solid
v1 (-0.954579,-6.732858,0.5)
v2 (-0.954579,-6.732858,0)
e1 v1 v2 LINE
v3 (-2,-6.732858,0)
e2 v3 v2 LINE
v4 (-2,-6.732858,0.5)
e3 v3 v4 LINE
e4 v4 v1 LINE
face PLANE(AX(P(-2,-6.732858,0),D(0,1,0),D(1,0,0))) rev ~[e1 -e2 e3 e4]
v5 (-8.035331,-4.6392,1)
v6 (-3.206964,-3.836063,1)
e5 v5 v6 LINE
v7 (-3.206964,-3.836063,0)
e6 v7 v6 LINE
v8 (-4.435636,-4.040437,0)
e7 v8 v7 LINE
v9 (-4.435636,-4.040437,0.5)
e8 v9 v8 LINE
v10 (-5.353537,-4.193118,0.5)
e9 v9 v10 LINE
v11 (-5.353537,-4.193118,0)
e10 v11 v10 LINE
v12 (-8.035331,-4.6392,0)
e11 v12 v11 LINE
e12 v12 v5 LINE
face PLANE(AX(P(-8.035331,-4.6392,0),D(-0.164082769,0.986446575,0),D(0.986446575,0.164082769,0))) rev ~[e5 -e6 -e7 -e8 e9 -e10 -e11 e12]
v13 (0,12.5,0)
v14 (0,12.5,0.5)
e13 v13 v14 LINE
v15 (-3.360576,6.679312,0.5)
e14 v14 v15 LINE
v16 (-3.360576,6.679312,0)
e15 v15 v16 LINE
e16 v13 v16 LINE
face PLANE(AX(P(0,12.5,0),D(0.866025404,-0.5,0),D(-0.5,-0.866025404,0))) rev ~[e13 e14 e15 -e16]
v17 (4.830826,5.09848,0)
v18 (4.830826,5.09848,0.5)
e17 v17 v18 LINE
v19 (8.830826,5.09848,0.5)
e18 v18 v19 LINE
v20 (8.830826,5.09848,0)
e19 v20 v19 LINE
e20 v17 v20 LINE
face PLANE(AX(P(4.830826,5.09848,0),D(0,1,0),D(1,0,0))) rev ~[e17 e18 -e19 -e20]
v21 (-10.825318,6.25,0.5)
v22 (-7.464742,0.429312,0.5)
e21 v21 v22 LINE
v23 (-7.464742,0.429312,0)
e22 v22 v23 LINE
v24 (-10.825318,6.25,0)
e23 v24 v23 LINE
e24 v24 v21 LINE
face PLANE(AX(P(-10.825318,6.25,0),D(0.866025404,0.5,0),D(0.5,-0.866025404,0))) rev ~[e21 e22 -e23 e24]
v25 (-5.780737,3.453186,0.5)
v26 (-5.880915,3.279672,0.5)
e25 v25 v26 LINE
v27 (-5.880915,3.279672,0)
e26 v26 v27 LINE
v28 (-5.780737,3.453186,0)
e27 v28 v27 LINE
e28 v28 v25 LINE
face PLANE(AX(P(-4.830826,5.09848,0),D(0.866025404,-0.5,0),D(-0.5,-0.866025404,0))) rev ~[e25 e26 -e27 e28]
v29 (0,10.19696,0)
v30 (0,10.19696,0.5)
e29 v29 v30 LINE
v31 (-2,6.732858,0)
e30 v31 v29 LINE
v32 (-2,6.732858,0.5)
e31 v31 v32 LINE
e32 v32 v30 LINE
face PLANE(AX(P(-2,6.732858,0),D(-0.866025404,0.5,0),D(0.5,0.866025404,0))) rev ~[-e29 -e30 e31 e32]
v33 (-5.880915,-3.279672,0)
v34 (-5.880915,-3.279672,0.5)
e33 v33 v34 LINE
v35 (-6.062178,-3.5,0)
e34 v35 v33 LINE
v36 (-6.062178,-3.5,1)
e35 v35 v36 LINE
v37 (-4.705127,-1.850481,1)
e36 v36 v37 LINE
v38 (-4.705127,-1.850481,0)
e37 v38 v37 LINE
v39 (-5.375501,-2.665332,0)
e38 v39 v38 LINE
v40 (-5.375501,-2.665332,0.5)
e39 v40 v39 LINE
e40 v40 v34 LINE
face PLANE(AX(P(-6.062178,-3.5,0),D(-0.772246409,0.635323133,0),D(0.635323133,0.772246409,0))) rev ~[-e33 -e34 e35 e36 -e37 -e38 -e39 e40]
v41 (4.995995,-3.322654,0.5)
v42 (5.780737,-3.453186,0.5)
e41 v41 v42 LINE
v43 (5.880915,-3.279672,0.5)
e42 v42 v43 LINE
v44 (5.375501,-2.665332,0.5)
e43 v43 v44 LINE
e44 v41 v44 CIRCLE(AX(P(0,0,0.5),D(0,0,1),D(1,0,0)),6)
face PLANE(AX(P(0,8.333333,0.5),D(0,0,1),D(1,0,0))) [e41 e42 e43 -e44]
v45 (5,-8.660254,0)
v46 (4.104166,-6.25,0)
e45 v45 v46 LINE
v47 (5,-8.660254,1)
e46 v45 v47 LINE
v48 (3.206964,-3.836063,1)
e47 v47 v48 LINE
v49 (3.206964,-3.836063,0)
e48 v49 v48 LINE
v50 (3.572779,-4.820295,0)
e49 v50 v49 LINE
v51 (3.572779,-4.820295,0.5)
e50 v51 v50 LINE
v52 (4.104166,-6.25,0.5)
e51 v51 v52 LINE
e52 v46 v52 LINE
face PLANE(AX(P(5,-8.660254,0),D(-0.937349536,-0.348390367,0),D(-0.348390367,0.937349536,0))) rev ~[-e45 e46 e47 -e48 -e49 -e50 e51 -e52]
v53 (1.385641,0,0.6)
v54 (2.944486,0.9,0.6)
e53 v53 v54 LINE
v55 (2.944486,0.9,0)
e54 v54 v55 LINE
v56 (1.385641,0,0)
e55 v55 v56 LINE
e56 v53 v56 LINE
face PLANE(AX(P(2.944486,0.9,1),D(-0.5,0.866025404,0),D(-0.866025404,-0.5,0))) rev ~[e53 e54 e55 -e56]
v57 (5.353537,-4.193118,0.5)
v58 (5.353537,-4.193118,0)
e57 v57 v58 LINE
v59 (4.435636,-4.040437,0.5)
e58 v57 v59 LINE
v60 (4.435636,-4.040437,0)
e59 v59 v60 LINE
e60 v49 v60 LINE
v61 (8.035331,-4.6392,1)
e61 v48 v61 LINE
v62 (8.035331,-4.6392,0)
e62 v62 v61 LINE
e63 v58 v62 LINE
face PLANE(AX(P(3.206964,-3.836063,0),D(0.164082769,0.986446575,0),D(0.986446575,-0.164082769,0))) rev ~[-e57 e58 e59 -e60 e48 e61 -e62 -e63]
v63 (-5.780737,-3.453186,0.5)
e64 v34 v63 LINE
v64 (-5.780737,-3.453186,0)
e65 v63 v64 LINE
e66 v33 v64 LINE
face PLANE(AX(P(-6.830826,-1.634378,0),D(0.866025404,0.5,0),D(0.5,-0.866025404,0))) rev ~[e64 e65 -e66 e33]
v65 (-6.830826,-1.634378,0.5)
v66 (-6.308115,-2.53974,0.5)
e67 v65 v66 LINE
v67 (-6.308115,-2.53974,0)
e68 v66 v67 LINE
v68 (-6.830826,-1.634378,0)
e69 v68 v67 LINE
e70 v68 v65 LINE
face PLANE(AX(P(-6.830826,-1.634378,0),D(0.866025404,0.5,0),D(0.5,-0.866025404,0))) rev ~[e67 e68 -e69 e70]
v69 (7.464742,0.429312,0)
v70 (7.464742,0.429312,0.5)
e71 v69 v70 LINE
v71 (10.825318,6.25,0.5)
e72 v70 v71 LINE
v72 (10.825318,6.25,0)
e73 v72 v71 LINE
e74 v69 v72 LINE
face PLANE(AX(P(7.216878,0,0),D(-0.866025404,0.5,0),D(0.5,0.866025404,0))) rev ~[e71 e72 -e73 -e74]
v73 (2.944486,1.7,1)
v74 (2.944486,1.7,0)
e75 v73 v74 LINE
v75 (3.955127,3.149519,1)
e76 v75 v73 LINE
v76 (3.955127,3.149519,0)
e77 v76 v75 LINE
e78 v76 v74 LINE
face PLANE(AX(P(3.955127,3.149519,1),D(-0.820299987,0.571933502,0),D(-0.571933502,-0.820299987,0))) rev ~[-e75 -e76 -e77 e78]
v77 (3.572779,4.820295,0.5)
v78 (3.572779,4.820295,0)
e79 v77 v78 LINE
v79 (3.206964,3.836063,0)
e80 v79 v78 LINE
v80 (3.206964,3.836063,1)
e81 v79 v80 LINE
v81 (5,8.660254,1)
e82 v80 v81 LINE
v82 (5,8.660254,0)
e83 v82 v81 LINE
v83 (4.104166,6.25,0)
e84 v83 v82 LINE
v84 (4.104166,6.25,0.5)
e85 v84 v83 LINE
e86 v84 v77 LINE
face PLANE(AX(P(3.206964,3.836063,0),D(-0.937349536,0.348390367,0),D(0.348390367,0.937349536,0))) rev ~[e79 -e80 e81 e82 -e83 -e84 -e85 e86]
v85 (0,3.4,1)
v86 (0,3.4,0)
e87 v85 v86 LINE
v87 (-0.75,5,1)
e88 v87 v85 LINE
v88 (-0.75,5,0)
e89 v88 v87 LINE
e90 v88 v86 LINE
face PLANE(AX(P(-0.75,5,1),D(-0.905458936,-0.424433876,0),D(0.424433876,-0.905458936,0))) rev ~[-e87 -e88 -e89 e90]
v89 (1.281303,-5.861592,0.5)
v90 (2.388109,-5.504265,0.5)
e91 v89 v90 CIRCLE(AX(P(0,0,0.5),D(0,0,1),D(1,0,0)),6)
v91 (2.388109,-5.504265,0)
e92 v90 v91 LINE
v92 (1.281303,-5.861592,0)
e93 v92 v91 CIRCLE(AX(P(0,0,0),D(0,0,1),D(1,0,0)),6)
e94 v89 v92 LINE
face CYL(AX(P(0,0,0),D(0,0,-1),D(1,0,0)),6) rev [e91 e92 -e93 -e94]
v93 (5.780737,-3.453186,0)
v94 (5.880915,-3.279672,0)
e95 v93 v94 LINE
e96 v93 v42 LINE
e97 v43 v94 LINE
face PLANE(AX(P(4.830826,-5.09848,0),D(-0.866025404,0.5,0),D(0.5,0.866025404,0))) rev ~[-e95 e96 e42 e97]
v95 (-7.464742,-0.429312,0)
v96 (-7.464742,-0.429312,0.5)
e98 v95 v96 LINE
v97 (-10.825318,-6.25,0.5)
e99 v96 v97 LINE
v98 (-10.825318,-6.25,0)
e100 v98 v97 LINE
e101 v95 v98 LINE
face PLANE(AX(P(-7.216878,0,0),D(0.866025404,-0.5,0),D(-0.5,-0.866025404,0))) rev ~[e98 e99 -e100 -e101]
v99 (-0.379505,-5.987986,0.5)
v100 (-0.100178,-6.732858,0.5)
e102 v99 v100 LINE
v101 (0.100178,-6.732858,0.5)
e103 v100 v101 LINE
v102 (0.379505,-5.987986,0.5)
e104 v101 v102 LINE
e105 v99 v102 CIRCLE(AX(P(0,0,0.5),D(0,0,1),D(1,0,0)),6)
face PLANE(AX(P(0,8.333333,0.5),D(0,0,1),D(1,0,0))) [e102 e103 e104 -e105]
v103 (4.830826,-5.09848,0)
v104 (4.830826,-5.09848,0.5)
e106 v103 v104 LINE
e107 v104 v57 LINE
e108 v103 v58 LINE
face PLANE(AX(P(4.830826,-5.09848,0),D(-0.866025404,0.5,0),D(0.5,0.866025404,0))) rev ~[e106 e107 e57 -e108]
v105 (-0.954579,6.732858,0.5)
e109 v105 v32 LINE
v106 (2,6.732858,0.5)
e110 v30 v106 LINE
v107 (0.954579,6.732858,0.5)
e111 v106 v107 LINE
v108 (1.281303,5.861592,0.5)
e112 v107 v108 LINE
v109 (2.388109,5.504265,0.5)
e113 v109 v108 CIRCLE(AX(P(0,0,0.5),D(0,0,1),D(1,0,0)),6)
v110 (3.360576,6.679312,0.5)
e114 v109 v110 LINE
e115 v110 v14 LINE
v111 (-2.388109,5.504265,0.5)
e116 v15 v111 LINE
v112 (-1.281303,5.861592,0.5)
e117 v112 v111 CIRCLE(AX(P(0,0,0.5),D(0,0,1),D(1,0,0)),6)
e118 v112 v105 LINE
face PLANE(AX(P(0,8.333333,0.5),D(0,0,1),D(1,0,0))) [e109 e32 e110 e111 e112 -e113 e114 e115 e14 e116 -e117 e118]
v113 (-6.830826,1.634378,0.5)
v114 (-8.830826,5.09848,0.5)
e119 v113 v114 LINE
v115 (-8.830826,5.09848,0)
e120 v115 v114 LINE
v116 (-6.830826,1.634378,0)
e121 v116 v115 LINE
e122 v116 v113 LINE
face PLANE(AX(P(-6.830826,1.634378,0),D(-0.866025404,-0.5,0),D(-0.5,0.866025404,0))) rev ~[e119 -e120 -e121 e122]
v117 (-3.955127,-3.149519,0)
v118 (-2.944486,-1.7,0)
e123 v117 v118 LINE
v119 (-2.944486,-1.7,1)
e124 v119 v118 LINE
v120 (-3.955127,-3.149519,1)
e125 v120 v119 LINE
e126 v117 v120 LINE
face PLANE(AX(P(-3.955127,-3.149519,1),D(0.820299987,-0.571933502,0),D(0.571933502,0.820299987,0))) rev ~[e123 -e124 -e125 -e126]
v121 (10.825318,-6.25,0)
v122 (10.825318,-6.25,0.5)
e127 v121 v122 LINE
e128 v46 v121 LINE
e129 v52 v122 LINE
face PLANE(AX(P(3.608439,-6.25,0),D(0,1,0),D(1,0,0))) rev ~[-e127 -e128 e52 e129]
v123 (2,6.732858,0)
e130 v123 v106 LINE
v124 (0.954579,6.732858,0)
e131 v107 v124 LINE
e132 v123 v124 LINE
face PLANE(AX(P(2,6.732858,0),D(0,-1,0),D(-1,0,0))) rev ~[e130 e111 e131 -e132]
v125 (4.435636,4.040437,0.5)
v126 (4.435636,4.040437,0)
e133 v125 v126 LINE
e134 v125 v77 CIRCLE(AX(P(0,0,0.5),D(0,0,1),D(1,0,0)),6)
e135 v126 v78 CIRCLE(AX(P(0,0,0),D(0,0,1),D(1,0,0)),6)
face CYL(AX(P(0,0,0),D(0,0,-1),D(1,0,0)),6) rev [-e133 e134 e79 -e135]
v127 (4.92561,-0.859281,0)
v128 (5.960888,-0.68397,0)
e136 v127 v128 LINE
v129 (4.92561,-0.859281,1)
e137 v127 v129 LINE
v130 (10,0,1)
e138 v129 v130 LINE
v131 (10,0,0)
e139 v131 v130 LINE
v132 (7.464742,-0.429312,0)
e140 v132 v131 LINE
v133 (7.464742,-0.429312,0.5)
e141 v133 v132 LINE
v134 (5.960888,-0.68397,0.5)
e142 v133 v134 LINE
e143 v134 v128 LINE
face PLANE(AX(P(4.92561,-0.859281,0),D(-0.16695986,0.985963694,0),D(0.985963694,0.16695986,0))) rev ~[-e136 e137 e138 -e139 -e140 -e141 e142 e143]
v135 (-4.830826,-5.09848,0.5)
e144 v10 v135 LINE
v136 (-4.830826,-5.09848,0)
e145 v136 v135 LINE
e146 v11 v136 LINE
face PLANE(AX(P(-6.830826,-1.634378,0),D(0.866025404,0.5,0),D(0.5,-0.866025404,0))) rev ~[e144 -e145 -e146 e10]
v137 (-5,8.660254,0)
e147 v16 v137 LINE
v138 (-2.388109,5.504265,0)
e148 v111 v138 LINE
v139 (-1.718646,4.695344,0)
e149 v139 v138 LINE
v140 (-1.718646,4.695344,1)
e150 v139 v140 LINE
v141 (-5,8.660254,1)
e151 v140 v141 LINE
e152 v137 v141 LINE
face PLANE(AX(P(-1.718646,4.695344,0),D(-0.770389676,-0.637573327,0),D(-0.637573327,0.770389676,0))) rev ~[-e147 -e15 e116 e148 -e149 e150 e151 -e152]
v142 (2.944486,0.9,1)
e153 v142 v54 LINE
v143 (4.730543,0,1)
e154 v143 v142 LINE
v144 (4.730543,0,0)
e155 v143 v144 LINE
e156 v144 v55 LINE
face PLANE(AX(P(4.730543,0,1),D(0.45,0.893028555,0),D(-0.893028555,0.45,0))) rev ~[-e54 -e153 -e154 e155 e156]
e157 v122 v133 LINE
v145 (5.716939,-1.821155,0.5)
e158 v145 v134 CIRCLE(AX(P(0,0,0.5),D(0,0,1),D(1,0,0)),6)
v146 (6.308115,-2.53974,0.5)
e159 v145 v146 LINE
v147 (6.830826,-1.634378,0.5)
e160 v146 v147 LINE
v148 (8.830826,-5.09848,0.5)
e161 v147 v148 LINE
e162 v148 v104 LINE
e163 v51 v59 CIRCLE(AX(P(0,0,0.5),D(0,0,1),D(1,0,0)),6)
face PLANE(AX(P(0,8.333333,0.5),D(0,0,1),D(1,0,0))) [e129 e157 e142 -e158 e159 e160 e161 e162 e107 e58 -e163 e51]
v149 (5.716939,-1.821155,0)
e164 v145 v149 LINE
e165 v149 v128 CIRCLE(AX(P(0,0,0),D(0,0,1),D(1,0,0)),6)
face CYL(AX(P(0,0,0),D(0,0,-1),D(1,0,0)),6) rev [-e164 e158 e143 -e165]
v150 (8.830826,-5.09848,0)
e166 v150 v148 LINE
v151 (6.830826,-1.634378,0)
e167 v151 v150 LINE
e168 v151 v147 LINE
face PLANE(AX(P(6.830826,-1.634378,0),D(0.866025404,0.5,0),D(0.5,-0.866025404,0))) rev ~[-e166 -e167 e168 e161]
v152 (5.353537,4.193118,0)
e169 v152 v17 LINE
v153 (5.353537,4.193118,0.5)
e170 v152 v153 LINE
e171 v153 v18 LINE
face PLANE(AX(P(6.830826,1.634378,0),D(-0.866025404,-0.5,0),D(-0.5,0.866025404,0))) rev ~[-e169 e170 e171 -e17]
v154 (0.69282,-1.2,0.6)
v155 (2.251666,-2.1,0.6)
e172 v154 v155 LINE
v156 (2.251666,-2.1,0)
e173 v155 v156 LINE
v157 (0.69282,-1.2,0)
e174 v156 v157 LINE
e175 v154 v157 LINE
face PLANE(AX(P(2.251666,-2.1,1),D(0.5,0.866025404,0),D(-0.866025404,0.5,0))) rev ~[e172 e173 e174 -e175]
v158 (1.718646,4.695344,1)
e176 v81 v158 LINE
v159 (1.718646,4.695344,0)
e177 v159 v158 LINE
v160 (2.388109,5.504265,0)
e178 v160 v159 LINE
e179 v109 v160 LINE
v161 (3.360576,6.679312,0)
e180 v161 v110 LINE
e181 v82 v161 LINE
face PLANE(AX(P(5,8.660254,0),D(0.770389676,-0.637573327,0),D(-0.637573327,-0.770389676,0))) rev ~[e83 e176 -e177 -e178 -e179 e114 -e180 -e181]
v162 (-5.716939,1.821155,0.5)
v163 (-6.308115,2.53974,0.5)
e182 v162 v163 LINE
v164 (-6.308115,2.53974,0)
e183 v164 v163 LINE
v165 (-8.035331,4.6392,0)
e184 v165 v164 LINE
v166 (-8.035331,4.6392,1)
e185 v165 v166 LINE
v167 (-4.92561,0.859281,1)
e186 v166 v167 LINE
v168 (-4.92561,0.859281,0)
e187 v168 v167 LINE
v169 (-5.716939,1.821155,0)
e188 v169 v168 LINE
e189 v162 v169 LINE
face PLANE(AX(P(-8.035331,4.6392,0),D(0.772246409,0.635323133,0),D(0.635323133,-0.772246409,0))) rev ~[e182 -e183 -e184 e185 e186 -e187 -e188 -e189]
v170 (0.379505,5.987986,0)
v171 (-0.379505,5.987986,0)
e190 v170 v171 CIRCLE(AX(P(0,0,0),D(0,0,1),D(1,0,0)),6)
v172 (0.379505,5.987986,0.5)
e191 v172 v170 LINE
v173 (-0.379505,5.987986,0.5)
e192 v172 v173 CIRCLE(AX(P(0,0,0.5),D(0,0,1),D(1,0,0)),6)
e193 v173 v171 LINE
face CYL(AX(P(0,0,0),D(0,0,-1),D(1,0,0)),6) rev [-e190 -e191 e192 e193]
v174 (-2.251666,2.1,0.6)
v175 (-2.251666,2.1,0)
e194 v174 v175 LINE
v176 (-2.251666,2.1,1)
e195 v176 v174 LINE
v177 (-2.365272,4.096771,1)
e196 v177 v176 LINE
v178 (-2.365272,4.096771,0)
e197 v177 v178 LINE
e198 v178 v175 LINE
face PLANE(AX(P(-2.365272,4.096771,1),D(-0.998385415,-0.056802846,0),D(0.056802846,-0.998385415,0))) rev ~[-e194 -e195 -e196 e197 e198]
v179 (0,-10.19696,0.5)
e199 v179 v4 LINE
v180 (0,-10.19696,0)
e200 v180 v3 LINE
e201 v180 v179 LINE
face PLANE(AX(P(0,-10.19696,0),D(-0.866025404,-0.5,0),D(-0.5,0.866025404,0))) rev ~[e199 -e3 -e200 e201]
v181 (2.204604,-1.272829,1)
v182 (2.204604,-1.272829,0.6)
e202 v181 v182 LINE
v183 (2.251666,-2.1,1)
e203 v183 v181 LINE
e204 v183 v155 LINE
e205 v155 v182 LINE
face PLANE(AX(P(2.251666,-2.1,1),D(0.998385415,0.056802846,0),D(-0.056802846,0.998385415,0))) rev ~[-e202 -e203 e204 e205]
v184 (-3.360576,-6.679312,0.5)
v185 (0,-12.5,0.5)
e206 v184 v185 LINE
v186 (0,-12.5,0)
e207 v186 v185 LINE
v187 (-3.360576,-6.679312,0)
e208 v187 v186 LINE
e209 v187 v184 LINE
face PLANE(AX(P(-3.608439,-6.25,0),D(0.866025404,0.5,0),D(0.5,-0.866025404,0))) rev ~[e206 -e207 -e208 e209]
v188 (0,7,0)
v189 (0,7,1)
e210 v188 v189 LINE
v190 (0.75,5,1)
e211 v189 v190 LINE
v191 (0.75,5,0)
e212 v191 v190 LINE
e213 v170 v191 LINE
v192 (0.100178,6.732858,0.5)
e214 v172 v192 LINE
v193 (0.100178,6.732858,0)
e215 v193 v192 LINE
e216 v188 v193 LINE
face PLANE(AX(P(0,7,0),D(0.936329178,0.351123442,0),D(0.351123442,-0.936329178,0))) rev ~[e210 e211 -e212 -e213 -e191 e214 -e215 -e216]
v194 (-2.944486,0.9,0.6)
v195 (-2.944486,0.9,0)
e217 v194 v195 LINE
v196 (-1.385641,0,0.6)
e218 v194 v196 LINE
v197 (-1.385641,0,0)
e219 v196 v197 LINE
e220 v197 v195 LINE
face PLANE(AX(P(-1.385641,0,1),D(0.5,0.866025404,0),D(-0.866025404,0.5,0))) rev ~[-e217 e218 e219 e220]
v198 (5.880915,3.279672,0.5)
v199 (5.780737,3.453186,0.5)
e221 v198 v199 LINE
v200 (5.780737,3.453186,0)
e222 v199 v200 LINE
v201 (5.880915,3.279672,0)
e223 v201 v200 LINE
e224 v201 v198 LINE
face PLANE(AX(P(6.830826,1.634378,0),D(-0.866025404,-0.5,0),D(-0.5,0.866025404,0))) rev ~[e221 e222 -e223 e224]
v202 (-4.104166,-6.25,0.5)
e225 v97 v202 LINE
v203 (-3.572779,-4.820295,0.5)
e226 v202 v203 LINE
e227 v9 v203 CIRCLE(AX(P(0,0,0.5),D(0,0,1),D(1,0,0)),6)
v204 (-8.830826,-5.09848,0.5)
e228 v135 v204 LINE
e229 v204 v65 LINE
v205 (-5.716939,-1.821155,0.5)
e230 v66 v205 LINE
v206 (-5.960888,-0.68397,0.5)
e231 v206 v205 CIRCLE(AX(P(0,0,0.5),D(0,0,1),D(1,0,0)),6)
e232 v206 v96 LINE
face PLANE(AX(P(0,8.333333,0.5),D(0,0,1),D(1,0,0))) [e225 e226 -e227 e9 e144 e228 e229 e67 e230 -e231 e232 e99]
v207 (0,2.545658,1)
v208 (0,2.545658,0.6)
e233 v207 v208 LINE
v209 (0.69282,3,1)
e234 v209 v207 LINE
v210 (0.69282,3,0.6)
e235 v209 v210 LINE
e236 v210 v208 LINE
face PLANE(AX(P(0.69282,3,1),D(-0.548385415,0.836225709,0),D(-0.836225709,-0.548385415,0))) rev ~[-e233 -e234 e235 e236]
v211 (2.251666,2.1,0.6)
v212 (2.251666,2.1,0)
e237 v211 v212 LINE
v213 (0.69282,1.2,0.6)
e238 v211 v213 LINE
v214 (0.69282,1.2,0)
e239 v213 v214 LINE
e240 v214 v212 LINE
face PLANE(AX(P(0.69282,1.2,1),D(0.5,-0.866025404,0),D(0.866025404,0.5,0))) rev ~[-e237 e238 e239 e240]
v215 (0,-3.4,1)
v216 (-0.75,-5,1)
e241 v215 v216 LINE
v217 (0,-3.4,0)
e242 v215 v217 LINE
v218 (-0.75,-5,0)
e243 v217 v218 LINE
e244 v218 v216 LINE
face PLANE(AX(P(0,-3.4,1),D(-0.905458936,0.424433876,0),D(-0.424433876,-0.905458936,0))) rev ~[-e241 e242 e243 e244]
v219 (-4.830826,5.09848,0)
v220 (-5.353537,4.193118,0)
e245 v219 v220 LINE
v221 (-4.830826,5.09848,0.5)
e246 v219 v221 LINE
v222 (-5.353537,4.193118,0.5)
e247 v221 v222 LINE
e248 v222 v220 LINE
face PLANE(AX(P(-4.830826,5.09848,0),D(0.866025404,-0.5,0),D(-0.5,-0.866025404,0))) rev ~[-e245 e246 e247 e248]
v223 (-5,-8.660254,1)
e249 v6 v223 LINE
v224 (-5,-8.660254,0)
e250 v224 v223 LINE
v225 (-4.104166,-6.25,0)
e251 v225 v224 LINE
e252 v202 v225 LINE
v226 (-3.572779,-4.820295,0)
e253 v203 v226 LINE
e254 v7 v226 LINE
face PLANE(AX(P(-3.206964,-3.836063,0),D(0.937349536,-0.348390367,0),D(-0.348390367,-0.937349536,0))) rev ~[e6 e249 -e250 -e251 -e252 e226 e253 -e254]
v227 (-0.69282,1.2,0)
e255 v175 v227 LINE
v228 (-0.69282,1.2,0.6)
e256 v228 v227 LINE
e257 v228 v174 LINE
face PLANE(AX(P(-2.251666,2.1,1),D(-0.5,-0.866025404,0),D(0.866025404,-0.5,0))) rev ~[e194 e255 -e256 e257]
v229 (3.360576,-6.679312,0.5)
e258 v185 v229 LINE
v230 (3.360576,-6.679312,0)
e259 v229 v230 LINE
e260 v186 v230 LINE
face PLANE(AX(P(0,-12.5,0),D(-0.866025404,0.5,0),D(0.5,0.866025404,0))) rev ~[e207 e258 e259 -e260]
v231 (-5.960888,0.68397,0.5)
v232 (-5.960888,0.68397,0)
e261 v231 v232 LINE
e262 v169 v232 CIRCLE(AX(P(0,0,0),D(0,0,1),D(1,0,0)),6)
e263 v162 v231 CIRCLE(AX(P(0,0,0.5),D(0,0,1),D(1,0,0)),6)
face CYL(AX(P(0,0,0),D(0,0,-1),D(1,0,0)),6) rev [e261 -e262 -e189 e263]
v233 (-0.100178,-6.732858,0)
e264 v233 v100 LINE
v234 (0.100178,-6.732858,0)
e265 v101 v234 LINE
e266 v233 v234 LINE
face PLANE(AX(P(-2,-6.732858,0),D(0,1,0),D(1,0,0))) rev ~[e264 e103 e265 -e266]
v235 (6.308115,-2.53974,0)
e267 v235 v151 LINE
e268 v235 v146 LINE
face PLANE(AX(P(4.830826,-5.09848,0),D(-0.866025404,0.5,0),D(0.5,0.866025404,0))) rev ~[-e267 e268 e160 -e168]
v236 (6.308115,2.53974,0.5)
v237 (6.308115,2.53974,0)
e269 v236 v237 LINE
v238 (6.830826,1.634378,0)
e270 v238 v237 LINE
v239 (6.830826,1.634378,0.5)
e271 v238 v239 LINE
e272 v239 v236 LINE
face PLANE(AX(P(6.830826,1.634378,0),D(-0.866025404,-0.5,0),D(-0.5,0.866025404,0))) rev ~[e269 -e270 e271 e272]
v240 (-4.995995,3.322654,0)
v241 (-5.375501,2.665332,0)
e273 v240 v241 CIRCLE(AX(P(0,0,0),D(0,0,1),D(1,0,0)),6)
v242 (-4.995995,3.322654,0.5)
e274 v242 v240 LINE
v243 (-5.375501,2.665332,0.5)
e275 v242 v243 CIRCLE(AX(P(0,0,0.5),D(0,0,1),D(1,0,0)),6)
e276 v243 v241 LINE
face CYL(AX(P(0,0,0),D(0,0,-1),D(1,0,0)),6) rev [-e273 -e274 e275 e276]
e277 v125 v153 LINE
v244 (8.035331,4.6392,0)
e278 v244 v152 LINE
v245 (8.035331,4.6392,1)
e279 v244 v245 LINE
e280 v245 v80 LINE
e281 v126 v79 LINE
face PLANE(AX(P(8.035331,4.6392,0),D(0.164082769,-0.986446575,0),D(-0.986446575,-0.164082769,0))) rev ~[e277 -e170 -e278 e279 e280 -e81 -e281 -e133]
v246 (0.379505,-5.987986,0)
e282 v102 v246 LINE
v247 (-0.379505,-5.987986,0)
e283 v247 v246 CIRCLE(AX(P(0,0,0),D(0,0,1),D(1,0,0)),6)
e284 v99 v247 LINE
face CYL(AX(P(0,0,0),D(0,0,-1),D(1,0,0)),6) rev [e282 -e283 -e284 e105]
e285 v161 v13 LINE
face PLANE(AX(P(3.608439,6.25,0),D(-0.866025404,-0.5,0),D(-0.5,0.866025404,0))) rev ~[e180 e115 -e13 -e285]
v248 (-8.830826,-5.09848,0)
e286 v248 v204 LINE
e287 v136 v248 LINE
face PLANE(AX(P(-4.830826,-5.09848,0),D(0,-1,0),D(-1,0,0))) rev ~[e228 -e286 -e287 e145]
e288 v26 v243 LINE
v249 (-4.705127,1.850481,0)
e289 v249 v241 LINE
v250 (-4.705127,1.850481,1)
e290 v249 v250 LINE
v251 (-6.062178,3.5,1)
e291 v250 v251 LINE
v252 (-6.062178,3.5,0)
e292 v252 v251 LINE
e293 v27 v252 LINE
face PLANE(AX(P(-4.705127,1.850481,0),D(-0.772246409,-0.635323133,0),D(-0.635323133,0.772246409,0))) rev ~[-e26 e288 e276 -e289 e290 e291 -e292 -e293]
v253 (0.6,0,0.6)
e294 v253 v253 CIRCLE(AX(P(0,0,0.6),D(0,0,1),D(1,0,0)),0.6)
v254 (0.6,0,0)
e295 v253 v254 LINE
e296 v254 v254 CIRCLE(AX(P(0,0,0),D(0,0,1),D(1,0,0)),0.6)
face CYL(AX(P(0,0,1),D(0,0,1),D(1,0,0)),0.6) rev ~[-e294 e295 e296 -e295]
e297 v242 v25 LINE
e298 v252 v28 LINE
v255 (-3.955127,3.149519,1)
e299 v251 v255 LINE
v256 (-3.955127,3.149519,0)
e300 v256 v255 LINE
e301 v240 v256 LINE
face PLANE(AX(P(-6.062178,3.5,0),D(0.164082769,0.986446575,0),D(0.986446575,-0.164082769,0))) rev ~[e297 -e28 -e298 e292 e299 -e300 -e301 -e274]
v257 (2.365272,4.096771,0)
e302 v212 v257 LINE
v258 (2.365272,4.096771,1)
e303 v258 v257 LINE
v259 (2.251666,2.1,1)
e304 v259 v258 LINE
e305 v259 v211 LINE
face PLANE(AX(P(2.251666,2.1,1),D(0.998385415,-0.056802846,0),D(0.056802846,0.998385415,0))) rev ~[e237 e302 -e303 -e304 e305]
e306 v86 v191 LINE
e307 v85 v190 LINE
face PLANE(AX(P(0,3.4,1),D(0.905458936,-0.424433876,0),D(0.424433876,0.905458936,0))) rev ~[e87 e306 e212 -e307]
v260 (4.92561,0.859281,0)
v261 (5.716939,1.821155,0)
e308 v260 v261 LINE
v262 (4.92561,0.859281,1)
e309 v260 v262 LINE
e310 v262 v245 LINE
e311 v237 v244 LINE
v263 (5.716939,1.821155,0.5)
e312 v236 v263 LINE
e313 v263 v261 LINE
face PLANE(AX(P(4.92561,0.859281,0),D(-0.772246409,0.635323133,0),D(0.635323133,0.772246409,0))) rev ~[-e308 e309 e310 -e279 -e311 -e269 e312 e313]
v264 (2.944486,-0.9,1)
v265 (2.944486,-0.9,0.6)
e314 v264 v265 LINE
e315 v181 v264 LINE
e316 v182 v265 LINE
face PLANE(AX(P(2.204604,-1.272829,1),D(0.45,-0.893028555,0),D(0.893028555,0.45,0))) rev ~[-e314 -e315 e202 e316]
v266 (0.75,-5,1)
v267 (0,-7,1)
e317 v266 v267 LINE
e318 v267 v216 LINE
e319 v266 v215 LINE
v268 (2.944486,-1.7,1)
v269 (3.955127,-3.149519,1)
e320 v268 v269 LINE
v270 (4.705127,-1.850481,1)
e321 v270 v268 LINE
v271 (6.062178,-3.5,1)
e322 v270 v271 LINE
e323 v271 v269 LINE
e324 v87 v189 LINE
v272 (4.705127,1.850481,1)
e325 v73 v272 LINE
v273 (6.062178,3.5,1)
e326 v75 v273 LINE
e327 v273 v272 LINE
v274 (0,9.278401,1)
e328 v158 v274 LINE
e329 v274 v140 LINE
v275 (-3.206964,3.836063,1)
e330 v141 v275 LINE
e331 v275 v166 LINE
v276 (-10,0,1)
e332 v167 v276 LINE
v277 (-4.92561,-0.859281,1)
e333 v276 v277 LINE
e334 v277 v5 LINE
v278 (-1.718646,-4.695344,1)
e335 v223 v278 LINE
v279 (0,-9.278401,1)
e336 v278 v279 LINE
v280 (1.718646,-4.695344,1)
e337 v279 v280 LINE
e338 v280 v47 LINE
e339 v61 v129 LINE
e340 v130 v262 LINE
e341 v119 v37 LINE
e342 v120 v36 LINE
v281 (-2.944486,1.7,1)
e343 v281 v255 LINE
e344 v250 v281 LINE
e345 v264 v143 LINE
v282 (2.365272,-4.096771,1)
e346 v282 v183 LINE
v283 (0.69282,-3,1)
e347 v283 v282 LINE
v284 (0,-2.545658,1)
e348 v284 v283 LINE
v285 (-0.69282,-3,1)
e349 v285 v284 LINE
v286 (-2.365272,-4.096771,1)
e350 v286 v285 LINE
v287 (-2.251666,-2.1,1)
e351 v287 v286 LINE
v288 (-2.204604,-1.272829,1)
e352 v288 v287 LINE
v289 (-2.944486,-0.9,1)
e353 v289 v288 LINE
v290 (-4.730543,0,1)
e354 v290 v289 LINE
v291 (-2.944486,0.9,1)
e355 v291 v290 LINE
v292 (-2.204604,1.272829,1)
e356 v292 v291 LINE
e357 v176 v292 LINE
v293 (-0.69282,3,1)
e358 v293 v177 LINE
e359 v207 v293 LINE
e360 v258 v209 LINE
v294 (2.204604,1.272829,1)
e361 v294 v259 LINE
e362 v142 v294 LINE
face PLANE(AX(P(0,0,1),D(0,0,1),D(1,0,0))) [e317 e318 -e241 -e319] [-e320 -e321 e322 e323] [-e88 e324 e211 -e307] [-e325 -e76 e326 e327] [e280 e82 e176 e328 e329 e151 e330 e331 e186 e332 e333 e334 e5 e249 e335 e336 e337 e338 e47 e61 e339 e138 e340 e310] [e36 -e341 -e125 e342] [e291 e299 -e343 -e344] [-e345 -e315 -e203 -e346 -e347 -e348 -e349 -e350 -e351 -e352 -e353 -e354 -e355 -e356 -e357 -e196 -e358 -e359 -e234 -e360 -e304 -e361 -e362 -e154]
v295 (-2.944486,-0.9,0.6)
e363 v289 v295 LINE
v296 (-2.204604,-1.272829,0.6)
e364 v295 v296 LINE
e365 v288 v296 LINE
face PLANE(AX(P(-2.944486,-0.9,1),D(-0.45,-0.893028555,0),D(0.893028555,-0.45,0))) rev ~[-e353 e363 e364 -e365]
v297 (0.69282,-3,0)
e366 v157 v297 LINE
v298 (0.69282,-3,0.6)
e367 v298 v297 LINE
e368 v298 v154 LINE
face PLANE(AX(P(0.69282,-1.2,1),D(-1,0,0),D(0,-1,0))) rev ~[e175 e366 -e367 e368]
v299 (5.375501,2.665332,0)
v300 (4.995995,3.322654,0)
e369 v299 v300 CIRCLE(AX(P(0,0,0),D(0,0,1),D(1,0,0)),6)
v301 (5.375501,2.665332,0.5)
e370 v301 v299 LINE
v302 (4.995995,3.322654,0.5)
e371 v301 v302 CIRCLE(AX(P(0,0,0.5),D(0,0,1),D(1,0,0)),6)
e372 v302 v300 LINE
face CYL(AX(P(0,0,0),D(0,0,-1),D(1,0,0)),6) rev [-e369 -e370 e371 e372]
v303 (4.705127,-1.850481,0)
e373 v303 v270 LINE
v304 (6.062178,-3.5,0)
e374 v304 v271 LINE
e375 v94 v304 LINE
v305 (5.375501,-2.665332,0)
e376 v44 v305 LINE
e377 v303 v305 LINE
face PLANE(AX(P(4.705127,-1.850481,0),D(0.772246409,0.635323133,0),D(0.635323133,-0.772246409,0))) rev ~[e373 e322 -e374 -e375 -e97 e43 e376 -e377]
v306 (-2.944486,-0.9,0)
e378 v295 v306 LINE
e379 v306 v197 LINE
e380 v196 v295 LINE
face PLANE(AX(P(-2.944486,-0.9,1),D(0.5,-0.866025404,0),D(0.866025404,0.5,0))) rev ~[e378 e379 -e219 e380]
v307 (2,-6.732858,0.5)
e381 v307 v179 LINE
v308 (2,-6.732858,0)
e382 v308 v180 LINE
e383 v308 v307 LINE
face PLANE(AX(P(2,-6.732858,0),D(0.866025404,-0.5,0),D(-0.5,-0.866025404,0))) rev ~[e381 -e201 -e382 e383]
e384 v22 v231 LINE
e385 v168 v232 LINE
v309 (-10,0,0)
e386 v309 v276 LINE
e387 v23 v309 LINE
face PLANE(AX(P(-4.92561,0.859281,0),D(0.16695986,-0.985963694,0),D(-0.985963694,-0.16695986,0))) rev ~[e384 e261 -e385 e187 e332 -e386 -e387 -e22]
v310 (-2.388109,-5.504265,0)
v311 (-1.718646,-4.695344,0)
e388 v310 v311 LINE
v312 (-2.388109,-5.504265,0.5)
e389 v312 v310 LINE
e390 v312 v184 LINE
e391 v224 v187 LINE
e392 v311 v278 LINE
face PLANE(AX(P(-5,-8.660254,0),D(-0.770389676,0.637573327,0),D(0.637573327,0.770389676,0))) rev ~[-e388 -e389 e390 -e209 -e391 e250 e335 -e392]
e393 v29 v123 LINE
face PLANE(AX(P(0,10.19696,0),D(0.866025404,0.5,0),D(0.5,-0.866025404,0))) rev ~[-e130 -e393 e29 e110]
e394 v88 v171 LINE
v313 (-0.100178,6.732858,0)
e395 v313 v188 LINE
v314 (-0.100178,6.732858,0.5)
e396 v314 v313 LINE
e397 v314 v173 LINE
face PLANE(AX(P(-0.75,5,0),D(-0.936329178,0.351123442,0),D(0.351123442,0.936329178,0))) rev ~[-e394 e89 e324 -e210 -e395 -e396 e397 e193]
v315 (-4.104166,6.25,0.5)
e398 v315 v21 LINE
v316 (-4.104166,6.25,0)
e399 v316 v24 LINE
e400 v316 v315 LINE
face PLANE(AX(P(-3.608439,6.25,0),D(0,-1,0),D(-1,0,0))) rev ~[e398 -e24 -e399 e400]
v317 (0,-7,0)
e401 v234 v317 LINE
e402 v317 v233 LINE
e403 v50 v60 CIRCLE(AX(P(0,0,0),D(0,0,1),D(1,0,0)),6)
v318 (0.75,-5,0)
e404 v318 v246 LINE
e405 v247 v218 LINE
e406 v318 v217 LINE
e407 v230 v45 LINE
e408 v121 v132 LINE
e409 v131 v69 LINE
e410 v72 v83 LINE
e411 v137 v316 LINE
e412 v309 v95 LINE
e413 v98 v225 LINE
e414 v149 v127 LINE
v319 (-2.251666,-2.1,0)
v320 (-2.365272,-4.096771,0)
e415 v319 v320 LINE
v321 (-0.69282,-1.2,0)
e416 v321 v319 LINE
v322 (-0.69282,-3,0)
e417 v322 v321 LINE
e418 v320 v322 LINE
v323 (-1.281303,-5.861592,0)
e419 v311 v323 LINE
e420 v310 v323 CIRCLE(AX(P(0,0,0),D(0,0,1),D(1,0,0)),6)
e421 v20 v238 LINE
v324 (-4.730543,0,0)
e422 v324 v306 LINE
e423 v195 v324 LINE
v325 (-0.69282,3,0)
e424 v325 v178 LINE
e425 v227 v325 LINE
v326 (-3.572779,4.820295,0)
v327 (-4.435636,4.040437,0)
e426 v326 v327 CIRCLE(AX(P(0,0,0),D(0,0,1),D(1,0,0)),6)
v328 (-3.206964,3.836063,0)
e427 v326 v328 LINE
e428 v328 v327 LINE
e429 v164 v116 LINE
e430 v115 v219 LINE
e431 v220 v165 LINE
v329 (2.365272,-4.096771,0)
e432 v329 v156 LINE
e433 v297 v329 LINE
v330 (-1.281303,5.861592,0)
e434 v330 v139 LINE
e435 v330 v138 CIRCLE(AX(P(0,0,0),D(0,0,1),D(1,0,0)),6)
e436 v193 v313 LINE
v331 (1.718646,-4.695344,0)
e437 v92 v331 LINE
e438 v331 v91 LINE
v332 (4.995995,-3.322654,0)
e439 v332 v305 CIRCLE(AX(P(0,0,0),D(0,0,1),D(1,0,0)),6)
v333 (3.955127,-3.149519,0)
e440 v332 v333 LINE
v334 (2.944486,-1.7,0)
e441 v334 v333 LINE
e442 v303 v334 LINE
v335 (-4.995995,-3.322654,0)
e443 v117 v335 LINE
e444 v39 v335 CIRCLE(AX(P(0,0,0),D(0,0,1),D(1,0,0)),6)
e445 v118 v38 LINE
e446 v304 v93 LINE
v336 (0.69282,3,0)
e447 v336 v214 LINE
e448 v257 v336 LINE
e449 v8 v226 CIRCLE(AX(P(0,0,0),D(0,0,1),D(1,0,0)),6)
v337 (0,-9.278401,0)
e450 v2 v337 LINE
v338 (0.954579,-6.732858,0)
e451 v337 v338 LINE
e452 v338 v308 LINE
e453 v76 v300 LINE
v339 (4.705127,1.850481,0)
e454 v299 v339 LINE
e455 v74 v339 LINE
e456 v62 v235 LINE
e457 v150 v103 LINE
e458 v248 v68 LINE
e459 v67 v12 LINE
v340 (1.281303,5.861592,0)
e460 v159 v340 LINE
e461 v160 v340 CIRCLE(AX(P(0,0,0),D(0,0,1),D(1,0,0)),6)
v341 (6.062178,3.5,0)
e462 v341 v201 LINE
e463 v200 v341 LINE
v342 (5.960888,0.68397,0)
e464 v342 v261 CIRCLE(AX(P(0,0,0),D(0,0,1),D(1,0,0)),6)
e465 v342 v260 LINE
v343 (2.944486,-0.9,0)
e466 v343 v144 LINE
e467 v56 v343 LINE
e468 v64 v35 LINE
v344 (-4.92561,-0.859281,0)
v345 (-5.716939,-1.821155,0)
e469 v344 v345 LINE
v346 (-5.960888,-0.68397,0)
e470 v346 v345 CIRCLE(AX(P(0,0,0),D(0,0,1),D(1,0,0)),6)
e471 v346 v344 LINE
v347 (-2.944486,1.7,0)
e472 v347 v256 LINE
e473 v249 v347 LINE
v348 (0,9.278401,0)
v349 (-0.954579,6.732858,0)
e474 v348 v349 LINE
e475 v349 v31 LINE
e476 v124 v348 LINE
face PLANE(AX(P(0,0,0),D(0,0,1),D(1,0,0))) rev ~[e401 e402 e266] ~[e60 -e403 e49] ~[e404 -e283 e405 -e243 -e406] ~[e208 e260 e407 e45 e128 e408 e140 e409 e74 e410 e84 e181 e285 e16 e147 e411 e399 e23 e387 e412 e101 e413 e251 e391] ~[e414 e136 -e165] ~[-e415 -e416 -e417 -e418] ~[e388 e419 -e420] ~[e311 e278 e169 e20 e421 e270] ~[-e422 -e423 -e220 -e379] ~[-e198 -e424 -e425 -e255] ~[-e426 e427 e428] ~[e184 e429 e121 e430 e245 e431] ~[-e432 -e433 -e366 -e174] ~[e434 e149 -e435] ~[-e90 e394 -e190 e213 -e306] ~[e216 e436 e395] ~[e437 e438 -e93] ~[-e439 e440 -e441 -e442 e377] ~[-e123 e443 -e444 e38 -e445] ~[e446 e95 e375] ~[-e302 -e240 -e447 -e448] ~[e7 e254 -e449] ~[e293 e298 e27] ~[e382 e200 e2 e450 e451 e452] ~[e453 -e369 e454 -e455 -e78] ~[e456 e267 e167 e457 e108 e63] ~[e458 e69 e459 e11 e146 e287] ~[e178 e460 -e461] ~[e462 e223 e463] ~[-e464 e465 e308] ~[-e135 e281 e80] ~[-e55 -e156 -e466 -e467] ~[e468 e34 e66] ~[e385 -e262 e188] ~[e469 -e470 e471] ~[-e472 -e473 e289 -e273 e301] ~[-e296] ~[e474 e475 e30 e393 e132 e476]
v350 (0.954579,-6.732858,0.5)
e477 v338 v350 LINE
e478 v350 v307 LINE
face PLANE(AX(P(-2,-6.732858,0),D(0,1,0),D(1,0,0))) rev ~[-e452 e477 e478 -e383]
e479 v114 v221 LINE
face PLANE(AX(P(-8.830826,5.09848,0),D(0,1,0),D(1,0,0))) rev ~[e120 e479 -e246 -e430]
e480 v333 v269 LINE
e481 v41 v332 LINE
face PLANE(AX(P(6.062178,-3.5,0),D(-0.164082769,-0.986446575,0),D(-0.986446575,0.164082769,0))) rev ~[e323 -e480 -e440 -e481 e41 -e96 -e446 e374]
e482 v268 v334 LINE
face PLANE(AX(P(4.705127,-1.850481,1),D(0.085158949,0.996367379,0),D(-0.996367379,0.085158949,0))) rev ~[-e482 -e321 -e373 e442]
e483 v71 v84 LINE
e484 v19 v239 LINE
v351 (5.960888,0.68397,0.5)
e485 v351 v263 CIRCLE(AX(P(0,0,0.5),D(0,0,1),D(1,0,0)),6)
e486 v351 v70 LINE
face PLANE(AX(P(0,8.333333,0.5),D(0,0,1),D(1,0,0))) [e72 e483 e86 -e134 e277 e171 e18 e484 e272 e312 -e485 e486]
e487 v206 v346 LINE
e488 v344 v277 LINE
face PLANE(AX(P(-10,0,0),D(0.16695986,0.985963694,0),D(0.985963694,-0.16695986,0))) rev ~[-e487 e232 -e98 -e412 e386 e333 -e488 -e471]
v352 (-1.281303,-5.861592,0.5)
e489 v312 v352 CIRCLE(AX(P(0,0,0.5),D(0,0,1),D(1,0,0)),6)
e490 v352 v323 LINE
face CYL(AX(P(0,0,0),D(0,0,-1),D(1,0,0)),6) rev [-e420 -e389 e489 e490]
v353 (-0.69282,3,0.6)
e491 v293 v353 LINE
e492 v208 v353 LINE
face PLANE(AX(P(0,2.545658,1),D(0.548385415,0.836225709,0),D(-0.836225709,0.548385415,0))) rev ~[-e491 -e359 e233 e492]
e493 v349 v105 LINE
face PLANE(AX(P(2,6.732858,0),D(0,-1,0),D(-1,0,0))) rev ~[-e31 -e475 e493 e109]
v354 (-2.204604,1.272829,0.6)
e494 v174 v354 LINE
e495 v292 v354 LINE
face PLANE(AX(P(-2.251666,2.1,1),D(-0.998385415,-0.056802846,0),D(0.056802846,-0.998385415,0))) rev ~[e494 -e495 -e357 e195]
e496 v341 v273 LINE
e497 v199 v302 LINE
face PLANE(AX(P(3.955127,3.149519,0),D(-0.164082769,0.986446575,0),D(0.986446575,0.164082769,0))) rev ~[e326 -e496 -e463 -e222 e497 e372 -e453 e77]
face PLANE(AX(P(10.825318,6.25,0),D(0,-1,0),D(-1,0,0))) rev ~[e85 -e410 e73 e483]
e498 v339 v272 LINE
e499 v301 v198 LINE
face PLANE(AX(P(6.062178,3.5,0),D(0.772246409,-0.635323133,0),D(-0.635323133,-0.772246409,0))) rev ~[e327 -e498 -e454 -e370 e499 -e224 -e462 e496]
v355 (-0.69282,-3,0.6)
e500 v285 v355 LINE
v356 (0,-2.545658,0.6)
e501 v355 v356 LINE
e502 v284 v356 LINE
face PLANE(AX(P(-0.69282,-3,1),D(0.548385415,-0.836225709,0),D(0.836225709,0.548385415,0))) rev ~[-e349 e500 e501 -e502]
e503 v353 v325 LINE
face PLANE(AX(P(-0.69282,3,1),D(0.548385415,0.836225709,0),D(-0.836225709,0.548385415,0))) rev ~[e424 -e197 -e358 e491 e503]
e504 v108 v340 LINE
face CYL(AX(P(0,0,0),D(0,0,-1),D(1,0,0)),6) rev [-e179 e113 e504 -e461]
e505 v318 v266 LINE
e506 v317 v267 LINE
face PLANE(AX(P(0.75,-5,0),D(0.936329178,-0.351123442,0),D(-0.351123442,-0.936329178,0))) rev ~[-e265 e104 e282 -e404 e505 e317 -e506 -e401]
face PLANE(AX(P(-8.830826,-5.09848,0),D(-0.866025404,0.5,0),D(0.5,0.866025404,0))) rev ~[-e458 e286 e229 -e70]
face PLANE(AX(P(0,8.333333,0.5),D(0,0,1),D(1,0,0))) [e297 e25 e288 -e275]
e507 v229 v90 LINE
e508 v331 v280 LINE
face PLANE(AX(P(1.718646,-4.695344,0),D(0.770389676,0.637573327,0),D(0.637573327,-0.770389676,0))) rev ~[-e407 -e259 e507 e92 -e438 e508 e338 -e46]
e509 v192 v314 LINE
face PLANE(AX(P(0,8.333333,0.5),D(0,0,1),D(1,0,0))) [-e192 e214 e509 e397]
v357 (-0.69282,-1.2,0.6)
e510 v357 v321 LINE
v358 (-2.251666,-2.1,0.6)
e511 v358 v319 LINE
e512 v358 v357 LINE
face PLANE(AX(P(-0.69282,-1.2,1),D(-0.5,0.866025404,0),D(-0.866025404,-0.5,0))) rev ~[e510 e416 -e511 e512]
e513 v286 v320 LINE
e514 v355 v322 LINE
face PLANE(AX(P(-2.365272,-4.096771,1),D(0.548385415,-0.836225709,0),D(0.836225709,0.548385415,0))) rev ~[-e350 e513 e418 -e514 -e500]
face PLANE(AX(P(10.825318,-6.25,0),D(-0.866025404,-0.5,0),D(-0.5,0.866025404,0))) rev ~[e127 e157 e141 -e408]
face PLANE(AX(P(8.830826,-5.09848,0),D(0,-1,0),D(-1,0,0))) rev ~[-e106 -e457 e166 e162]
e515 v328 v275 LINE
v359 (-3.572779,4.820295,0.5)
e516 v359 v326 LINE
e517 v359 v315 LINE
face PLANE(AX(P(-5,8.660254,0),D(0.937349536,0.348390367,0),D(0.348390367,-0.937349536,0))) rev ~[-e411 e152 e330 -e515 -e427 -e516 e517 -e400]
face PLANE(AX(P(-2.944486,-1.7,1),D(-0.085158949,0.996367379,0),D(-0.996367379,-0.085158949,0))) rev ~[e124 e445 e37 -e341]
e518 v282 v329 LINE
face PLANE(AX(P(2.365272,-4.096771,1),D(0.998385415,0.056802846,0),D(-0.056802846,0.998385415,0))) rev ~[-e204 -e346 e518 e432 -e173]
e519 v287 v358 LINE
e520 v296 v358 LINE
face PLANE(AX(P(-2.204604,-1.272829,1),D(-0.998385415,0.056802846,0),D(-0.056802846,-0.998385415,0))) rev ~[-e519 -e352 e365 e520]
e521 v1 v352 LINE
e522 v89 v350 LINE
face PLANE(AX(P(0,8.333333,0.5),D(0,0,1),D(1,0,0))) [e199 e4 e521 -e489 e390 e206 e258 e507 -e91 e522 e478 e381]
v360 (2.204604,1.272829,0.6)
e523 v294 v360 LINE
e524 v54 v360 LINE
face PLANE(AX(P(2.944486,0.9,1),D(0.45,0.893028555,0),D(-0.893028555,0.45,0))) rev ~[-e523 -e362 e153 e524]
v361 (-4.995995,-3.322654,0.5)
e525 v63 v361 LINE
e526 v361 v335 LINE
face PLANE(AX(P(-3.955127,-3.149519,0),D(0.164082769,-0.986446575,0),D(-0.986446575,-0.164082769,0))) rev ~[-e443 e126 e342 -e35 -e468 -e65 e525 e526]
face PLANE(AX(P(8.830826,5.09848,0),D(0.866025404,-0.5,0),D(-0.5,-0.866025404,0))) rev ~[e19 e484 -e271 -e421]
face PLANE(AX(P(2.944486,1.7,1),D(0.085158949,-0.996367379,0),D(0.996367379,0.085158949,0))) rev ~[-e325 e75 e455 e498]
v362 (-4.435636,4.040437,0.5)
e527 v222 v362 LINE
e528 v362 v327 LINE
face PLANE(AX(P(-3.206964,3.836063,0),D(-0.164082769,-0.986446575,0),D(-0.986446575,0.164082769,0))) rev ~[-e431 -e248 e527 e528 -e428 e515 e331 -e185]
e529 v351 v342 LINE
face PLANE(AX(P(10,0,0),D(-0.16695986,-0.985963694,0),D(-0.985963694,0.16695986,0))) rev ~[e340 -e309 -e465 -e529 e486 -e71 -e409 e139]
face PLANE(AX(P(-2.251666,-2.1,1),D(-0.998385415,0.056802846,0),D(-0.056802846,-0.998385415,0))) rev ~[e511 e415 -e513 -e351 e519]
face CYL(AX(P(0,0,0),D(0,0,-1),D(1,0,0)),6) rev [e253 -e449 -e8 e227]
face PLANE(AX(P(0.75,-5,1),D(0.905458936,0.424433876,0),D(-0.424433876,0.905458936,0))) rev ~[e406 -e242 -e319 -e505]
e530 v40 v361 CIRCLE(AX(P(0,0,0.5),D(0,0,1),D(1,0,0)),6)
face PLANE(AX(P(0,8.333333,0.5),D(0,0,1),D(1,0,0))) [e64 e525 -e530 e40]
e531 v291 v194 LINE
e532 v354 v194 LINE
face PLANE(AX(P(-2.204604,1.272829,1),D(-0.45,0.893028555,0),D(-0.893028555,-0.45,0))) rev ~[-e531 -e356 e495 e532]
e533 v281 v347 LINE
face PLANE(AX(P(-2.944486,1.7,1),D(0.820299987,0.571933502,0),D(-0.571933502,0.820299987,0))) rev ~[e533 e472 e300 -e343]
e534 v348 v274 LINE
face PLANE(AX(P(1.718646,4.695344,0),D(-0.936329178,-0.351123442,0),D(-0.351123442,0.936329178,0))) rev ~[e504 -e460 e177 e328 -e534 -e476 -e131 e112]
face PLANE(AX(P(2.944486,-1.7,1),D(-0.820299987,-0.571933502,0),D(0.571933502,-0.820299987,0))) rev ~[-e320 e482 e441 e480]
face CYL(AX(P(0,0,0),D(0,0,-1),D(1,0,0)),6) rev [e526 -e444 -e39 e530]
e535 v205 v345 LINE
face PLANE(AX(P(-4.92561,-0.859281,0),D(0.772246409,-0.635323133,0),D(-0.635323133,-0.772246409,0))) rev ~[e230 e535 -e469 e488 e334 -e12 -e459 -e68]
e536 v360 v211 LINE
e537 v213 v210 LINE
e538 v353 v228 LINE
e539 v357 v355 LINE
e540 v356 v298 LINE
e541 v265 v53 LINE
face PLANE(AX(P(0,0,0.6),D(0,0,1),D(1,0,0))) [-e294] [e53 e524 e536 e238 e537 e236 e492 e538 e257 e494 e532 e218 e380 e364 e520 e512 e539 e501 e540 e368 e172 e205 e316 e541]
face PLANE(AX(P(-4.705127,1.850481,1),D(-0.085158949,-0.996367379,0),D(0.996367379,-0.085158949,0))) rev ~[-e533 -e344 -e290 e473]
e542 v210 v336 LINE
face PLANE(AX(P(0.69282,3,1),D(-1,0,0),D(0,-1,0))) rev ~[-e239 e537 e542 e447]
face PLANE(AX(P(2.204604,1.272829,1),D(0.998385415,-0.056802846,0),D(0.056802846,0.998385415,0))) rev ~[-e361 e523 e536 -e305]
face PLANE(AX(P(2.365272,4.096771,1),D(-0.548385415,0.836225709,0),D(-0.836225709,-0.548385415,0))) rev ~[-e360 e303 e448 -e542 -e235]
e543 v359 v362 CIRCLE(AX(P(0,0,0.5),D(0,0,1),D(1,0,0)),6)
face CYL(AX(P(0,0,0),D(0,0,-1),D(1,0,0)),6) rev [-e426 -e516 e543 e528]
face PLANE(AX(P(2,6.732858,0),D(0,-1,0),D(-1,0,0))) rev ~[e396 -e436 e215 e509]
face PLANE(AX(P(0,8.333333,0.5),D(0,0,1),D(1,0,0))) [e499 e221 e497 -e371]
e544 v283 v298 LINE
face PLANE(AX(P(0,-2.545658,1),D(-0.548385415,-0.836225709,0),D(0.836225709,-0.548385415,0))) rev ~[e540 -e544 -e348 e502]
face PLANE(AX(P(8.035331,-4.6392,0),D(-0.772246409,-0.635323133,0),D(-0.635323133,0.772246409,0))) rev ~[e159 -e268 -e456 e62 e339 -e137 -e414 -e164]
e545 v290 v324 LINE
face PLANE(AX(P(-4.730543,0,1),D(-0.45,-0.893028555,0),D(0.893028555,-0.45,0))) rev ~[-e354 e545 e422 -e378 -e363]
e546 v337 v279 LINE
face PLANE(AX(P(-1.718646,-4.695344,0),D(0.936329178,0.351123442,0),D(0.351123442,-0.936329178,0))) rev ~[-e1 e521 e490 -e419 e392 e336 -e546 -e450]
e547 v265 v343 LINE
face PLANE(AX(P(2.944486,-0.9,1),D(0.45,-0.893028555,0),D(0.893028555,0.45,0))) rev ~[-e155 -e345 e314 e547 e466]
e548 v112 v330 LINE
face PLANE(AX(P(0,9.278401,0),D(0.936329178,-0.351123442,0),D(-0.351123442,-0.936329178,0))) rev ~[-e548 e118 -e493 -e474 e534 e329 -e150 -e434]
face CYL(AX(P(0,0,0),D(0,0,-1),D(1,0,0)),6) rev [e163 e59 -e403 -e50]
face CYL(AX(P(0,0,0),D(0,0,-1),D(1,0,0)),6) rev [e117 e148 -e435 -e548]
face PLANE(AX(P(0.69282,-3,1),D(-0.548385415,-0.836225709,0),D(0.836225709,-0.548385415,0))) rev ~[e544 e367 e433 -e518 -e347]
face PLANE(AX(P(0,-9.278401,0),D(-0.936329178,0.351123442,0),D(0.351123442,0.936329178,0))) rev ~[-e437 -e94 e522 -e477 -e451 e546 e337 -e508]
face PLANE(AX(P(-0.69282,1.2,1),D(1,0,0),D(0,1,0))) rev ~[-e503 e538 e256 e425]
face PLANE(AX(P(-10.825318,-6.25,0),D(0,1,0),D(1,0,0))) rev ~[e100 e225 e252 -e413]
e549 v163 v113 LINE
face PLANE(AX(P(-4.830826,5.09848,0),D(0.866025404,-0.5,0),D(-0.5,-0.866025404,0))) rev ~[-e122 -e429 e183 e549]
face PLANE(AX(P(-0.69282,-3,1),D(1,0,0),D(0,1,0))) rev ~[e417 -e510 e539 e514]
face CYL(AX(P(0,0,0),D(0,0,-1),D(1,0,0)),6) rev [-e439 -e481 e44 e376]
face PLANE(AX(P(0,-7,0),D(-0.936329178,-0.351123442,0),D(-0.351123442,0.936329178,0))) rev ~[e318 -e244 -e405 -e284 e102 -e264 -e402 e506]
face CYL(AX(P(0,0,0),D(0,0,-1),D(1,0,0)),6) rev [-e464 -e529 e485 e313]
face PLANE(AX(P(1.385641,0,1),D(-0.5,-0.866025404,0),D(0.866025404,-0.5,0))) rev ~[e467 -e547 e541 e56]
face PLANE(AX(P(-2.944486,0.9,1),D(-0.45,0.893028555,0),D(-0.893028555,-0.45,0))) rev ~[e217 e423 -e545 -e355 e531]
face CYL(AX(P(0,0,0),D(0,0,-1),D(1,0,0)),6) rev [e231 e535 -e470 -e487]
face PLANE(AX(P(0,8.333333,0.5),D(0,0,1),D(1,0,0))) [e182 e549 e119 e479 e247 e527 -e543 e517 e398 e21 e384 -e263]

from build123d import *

# Parameters (mm, degrees)
F0_R     = 6
F1_DEPTH = 0.5
F3_DEPTH = 1
F4_R     = 0.6
F5_DEPTH = 25
F7_DEPTH = 0.4


with BuildPart() as f1:
    # F0 (on Top) → F1 (new body)
    with BuildSketch(Plane.XY):
        Polygon((3.6084391824, 6.25), (0, 12.5), (-3.6084391824, 6.25), align=None)
        Polygon((2, 6.7328579847), (-2, 6.7328579847), (0, 10.1969595999), align=None, mode=Mode.SUBTRACT)
        Polygon((3.6084391824, 6.25), (-3.6084391824, 6.25), (-7.2168783649, 0), (-3.6084391824, -6.25), (3.6084391824, -6.25), (7.2168783649, 0), align=None)
        Circle(F0_R, mode=Mode.SUBTRACT)
        Polygon((-7.2168783649, 0), (-3.6084391824, 6.25), (-10.8253175473, 6.25), align=None)
        Polygon((-8.8308260548, 5.0984797999), (-4.8308260548, 5.0984797999), (-6.8308260548, 1.6343781848), align=None, mode=Mode.SUBTRACT)
        Polygon((10.8253175473, 6.25), (3.6084391824, 6.25), (7.2168783649, 0), align=None)
        Polygon((8.8308260548, 5.0984797999), (6.8308260548, 1.6343781848), (4.8308260548, 5.0984797999), align=None, mode=Mode.SUBTRACT)
        Polygon((-3.6084391824, -6.25), (-7.2168783649, 0), (-10.8253175473, -6.25), align=None)
        Polygon((-8.8308260548, -5.0984797999), (-6.8308260548, -1.6343781848), (-4.8308260548, -5.0984797999), align=None, mode=Mode.SUBTRACT)
        Polygon((10.8253175473, -6.25), (7.2168783649, 0), (3.6084391824, -6.25), align=None)
        Polygon((8.8308260548, -5.0984797999), (4.8308260548, -5.0984797999), (6.8308260548, -1.6343781848), align=None, mode=Mode.SUBTRACT)
        Polygon((3.6084391824, -6.25), (-3.6084391824, -6.25), (0, -12.5), align=None)
        Polygon((0, -10.1969595999), (-2, -6.7328579847), (2, -6.7328579847), align=None, mode=Mode.SUBTRACT)
    extrude(amount=F1_DEPTH)

    # F2 (on Top) → F3 (join)
    with BuildSketch(Plane.XY):
        with BuildLine():
            Line((0, 9.2784009988), (-1.7186464041, 4.6953439211))
            ThreePointArc((-1.7186464041, 4.6953439211), (-2.5, 4.3301270189), (-3.2069639131, 3.8360634066))
            Line((-3.2069639131, 3.8360634066), (-8.0353309714, 4.6392004994))
            Line((-8.0353309714, 4.6392004994), (-4.9256103173, 0.8592805145))
            ThreePointArc((-4.9256103173, 0.8592805145), (-5, 0), (-4.9256103173, -0.8592805145))
            Line((-4.9256103173, -0.8592805145), (-8.0353309714, -4.6392004994))
            Line((-8.0353309714, -4.6392004994), (-3.2069639131, -3.8360634066))
            ThreePointArc((-3.2069639131, -3.8360634066), (-2.5, -4.3301270189), (-1.7186464041, -4.6953439211))
            Line((-1.7186464041, -4.6953439211), (0, -9.2784009988))
            Line((0, -9.2784009988), (1.7186464041, -4.6953439211))
            ThreePointArc((1.7186464041, -4.6953439211), (2.5, -4.3301270189), (3.2069639131, -3.8360634066))
            Line((3.2069639131, -3.8360634066), (8.0353309714, -4.6392004994))
            Line((8.0353309714, -4.6392004994), (4.9256103173, -0.8592805145))
            ThreePointArc((4.9256103173, -0.8592805145), (5, 0), (4.9256103173, 0.8592805145))
            Line((4.9256103173, 0.8592805145), (8.0353309714, 4.6392004994))
            Line((8.0353309714, 4.6392004994), (3.2069639131, 3.8360634066))
            ThreePointArc((3.2069639131, 3.8360634066), (2.5, 4.3301270189), (1.7186464041, 4.6953439211))
            Line((1.7186464041, 4.6953439211), (0, 9.2784009988))
        make_face()
        Polygon((-4.7051270189, -1.8504809472), (-3.9551270189, -3.1495190528), (-6.0621778265, -3.5), align=None, mode=Mode.SUBTRACT)
        Polygon((-0.75, -5), (0.75, -5), (0, -7), align=None, mode=Mode.SUBTRACT)
        Polygon((3.9551270189, -3.1495190528), (4.7051270189, -1.8504809472), (6.0621778265, -3.5), align=None, mode=Mode.SUBTRACT)
        Polygon((-3.9551270189, 3.1495190528), (-4.7051270189, 1.8504809472), (-6.0621778265, 3.5), align=None, mode=Mode.SUBTRACT)
        Polygon((4.7051270189, 1.8504809472), (3.9551270189, 3.1495190528), (6.0621778265, 3.5), align=None, mode=Mode.SUBTRACT)
        Polygon((-0.75, 5), (0, 7), (0.75, 5), align=None, mode=Mode.SUBTRACT)
        with BuildLine():
            ThreePointArc((-3.2069639131, 3.8360634066), (-2.5, 4.3301270189), (-1.7186464041, 4.6953439211))
            Line((-1.7186464041, 4.6953439211), (-5, 8.6602540378))
            Line((-5, 8.6602540378), (-3.2069639131, 3.8360634066))
        make_face()
        with BuildLine():
            Line((5, 8.6602540378), (1.7186464041, 4.6953439211))
            ThreePointArc((1.7186464041, 4.6953439211), (2.5, 4.3301270189), (3.2069639131, 3.8360634066))
            Line((3.2069639131, 3.8360634066), (5, 8.6602540378))
        make_face()
        with BuildLine():
            ThreePointArc((-4.9256103173, -0.8592805145), (-5, 0), (-4.9256103173, 0.8592805145))
            Line((-4.9256103173, 0.8592805145), (-10, 0))
            Line((-10, 0), (-4.9256103173, -0.8592805145))
        make_face()
        with BuildLine():
            Line((10, 0), (4.9256103173, 0.8592805145))
            ThreePointArc((4.9256103173, 0.8592805145), (5, 0), (4.9256103173, -0.8592805145))
            Line((4.9256103173, -0.8592805145), (10, 0))
        make_face()
        with BuildLine():
            ThreePointArc((-1.7186464041, -4.6953439211), (-2.5, -4.3301270189), (-3.2069639131, -3.8360634066))
            Line((-3.2069639131, -3.8360634066), (-5, -8.6602540378))
            Line((-5, -8.6602540378), (-1.7186464041, -4.6953439211))
        make_face()
        with BuildLine():
            Line((5, -8.6602540378), (3.2069639131, -3.8360634066))
            ThreePointArc((3.2069639131, -3.8360634066), (2.5, -4.3301270189), (1.7186464041, -4.6953439211))
            Line((1.7186464041, -4.6953439211), (5, -8.6602540378))
        make_face()
    extrude(amount=F3_DEPTH)

    # F4 (on face) → F5 (cut)
    with BuildSketch(Plane.XY.offset(1)):
        Polygon((0.75, 5), (-0.75, 5), (0, 3.4), align=None)
        Polygon((2.3652717414, 4.0967708298), (0.692820323, 3), (0.692820323, 1.2), (2.2516660498, 2.1), align=None)
        Polygon((-2.9444863729, 1.7), (-3.9551270189, 3.1495190528), (-4.7051270189, 1.8504809472), align=None)
        Polygon((-0.692820323, 3), (-2.3652717414, 4.0967708298), (-2.2516660498, 2.1), (-0.692820323, 1.2), align=None)
        Polygon((-2.9444863729, -1.7), (-4.7051270189, -1.8504809472), (-3.9551270189, -3.1495190528), align=None)
        Polygon((-2.9444863729, 0.9), (-4.7305434828, 0), (-2.9444863729, -0.9), (-1.3856406461, 0), align=None)
        Polygon((0, -3.4), (-0.75, -5), (0.75, -5), align=None)
        Polygon((-2.2516660498, -2.1), (-2.3652717414, -4.0967708298), (-0.692820323, -3), (-0.692820323, -1.2), align=None)
        Polygon((2.9444863729, -1.7), (3.9551270189, -3.1495190528), (4.7051270189, -1.8504809472), align=None)
        Polygon((0.692820323, -3), (2.3652717414, -4.0967708298), (2.2516660498, -2.1), (0.692820323, -1.2), align=None)
        Polygon((2.9444863729, 1.7), (4.7051270189, 1.8504809472), (3.9551270189, 3.1495190528), align=None)
        Polygon((2.9444863729, -0.9), (4.7305434828, 0), (2.9444863729, 0.9), (1.3856406461, 0), align=None)
        Circle(F4_R)
    extrude(amount=-F5_DEPTH, mode=Mode.SUBTRACT)

    # F6 (on face) → F7 (cut)
    with BuildSketch(Plane.XY.offset(1)):
        Polygon((0, 2.5456578814), (-0.692820323, 3), (-0.692820323, 1.2), (-2.2516660498, 2.1), (-2.2046043947, 1.2728289407), (-2.9444863729, 0.9), (-1.3856406461, 0), (-2.9444863729, -0.9), (-2.2046043947, -1.2728289407), (-2.2516660498, -2.1), (-0.692820323, -1.2), (-0.692820323, -3), (0, -2.5456578814), (0.692820323, -3), (0.692820323, -1.2), (2.2516660498, -2.1), (2.2046043947, -1.2728289407), (2.9444863729, -0.9), (1.3856406461, 0), (2.9444863729, 0.9), (2.2046043947, 1.2728289407), (2.2516660498, 2.1), (0.692820323, 1.2), (0.692820323, 3), align=None)
    extrude(amount=-F7_DEPTH, mode=Mode.SUBTRACT)


solid = f1.part
